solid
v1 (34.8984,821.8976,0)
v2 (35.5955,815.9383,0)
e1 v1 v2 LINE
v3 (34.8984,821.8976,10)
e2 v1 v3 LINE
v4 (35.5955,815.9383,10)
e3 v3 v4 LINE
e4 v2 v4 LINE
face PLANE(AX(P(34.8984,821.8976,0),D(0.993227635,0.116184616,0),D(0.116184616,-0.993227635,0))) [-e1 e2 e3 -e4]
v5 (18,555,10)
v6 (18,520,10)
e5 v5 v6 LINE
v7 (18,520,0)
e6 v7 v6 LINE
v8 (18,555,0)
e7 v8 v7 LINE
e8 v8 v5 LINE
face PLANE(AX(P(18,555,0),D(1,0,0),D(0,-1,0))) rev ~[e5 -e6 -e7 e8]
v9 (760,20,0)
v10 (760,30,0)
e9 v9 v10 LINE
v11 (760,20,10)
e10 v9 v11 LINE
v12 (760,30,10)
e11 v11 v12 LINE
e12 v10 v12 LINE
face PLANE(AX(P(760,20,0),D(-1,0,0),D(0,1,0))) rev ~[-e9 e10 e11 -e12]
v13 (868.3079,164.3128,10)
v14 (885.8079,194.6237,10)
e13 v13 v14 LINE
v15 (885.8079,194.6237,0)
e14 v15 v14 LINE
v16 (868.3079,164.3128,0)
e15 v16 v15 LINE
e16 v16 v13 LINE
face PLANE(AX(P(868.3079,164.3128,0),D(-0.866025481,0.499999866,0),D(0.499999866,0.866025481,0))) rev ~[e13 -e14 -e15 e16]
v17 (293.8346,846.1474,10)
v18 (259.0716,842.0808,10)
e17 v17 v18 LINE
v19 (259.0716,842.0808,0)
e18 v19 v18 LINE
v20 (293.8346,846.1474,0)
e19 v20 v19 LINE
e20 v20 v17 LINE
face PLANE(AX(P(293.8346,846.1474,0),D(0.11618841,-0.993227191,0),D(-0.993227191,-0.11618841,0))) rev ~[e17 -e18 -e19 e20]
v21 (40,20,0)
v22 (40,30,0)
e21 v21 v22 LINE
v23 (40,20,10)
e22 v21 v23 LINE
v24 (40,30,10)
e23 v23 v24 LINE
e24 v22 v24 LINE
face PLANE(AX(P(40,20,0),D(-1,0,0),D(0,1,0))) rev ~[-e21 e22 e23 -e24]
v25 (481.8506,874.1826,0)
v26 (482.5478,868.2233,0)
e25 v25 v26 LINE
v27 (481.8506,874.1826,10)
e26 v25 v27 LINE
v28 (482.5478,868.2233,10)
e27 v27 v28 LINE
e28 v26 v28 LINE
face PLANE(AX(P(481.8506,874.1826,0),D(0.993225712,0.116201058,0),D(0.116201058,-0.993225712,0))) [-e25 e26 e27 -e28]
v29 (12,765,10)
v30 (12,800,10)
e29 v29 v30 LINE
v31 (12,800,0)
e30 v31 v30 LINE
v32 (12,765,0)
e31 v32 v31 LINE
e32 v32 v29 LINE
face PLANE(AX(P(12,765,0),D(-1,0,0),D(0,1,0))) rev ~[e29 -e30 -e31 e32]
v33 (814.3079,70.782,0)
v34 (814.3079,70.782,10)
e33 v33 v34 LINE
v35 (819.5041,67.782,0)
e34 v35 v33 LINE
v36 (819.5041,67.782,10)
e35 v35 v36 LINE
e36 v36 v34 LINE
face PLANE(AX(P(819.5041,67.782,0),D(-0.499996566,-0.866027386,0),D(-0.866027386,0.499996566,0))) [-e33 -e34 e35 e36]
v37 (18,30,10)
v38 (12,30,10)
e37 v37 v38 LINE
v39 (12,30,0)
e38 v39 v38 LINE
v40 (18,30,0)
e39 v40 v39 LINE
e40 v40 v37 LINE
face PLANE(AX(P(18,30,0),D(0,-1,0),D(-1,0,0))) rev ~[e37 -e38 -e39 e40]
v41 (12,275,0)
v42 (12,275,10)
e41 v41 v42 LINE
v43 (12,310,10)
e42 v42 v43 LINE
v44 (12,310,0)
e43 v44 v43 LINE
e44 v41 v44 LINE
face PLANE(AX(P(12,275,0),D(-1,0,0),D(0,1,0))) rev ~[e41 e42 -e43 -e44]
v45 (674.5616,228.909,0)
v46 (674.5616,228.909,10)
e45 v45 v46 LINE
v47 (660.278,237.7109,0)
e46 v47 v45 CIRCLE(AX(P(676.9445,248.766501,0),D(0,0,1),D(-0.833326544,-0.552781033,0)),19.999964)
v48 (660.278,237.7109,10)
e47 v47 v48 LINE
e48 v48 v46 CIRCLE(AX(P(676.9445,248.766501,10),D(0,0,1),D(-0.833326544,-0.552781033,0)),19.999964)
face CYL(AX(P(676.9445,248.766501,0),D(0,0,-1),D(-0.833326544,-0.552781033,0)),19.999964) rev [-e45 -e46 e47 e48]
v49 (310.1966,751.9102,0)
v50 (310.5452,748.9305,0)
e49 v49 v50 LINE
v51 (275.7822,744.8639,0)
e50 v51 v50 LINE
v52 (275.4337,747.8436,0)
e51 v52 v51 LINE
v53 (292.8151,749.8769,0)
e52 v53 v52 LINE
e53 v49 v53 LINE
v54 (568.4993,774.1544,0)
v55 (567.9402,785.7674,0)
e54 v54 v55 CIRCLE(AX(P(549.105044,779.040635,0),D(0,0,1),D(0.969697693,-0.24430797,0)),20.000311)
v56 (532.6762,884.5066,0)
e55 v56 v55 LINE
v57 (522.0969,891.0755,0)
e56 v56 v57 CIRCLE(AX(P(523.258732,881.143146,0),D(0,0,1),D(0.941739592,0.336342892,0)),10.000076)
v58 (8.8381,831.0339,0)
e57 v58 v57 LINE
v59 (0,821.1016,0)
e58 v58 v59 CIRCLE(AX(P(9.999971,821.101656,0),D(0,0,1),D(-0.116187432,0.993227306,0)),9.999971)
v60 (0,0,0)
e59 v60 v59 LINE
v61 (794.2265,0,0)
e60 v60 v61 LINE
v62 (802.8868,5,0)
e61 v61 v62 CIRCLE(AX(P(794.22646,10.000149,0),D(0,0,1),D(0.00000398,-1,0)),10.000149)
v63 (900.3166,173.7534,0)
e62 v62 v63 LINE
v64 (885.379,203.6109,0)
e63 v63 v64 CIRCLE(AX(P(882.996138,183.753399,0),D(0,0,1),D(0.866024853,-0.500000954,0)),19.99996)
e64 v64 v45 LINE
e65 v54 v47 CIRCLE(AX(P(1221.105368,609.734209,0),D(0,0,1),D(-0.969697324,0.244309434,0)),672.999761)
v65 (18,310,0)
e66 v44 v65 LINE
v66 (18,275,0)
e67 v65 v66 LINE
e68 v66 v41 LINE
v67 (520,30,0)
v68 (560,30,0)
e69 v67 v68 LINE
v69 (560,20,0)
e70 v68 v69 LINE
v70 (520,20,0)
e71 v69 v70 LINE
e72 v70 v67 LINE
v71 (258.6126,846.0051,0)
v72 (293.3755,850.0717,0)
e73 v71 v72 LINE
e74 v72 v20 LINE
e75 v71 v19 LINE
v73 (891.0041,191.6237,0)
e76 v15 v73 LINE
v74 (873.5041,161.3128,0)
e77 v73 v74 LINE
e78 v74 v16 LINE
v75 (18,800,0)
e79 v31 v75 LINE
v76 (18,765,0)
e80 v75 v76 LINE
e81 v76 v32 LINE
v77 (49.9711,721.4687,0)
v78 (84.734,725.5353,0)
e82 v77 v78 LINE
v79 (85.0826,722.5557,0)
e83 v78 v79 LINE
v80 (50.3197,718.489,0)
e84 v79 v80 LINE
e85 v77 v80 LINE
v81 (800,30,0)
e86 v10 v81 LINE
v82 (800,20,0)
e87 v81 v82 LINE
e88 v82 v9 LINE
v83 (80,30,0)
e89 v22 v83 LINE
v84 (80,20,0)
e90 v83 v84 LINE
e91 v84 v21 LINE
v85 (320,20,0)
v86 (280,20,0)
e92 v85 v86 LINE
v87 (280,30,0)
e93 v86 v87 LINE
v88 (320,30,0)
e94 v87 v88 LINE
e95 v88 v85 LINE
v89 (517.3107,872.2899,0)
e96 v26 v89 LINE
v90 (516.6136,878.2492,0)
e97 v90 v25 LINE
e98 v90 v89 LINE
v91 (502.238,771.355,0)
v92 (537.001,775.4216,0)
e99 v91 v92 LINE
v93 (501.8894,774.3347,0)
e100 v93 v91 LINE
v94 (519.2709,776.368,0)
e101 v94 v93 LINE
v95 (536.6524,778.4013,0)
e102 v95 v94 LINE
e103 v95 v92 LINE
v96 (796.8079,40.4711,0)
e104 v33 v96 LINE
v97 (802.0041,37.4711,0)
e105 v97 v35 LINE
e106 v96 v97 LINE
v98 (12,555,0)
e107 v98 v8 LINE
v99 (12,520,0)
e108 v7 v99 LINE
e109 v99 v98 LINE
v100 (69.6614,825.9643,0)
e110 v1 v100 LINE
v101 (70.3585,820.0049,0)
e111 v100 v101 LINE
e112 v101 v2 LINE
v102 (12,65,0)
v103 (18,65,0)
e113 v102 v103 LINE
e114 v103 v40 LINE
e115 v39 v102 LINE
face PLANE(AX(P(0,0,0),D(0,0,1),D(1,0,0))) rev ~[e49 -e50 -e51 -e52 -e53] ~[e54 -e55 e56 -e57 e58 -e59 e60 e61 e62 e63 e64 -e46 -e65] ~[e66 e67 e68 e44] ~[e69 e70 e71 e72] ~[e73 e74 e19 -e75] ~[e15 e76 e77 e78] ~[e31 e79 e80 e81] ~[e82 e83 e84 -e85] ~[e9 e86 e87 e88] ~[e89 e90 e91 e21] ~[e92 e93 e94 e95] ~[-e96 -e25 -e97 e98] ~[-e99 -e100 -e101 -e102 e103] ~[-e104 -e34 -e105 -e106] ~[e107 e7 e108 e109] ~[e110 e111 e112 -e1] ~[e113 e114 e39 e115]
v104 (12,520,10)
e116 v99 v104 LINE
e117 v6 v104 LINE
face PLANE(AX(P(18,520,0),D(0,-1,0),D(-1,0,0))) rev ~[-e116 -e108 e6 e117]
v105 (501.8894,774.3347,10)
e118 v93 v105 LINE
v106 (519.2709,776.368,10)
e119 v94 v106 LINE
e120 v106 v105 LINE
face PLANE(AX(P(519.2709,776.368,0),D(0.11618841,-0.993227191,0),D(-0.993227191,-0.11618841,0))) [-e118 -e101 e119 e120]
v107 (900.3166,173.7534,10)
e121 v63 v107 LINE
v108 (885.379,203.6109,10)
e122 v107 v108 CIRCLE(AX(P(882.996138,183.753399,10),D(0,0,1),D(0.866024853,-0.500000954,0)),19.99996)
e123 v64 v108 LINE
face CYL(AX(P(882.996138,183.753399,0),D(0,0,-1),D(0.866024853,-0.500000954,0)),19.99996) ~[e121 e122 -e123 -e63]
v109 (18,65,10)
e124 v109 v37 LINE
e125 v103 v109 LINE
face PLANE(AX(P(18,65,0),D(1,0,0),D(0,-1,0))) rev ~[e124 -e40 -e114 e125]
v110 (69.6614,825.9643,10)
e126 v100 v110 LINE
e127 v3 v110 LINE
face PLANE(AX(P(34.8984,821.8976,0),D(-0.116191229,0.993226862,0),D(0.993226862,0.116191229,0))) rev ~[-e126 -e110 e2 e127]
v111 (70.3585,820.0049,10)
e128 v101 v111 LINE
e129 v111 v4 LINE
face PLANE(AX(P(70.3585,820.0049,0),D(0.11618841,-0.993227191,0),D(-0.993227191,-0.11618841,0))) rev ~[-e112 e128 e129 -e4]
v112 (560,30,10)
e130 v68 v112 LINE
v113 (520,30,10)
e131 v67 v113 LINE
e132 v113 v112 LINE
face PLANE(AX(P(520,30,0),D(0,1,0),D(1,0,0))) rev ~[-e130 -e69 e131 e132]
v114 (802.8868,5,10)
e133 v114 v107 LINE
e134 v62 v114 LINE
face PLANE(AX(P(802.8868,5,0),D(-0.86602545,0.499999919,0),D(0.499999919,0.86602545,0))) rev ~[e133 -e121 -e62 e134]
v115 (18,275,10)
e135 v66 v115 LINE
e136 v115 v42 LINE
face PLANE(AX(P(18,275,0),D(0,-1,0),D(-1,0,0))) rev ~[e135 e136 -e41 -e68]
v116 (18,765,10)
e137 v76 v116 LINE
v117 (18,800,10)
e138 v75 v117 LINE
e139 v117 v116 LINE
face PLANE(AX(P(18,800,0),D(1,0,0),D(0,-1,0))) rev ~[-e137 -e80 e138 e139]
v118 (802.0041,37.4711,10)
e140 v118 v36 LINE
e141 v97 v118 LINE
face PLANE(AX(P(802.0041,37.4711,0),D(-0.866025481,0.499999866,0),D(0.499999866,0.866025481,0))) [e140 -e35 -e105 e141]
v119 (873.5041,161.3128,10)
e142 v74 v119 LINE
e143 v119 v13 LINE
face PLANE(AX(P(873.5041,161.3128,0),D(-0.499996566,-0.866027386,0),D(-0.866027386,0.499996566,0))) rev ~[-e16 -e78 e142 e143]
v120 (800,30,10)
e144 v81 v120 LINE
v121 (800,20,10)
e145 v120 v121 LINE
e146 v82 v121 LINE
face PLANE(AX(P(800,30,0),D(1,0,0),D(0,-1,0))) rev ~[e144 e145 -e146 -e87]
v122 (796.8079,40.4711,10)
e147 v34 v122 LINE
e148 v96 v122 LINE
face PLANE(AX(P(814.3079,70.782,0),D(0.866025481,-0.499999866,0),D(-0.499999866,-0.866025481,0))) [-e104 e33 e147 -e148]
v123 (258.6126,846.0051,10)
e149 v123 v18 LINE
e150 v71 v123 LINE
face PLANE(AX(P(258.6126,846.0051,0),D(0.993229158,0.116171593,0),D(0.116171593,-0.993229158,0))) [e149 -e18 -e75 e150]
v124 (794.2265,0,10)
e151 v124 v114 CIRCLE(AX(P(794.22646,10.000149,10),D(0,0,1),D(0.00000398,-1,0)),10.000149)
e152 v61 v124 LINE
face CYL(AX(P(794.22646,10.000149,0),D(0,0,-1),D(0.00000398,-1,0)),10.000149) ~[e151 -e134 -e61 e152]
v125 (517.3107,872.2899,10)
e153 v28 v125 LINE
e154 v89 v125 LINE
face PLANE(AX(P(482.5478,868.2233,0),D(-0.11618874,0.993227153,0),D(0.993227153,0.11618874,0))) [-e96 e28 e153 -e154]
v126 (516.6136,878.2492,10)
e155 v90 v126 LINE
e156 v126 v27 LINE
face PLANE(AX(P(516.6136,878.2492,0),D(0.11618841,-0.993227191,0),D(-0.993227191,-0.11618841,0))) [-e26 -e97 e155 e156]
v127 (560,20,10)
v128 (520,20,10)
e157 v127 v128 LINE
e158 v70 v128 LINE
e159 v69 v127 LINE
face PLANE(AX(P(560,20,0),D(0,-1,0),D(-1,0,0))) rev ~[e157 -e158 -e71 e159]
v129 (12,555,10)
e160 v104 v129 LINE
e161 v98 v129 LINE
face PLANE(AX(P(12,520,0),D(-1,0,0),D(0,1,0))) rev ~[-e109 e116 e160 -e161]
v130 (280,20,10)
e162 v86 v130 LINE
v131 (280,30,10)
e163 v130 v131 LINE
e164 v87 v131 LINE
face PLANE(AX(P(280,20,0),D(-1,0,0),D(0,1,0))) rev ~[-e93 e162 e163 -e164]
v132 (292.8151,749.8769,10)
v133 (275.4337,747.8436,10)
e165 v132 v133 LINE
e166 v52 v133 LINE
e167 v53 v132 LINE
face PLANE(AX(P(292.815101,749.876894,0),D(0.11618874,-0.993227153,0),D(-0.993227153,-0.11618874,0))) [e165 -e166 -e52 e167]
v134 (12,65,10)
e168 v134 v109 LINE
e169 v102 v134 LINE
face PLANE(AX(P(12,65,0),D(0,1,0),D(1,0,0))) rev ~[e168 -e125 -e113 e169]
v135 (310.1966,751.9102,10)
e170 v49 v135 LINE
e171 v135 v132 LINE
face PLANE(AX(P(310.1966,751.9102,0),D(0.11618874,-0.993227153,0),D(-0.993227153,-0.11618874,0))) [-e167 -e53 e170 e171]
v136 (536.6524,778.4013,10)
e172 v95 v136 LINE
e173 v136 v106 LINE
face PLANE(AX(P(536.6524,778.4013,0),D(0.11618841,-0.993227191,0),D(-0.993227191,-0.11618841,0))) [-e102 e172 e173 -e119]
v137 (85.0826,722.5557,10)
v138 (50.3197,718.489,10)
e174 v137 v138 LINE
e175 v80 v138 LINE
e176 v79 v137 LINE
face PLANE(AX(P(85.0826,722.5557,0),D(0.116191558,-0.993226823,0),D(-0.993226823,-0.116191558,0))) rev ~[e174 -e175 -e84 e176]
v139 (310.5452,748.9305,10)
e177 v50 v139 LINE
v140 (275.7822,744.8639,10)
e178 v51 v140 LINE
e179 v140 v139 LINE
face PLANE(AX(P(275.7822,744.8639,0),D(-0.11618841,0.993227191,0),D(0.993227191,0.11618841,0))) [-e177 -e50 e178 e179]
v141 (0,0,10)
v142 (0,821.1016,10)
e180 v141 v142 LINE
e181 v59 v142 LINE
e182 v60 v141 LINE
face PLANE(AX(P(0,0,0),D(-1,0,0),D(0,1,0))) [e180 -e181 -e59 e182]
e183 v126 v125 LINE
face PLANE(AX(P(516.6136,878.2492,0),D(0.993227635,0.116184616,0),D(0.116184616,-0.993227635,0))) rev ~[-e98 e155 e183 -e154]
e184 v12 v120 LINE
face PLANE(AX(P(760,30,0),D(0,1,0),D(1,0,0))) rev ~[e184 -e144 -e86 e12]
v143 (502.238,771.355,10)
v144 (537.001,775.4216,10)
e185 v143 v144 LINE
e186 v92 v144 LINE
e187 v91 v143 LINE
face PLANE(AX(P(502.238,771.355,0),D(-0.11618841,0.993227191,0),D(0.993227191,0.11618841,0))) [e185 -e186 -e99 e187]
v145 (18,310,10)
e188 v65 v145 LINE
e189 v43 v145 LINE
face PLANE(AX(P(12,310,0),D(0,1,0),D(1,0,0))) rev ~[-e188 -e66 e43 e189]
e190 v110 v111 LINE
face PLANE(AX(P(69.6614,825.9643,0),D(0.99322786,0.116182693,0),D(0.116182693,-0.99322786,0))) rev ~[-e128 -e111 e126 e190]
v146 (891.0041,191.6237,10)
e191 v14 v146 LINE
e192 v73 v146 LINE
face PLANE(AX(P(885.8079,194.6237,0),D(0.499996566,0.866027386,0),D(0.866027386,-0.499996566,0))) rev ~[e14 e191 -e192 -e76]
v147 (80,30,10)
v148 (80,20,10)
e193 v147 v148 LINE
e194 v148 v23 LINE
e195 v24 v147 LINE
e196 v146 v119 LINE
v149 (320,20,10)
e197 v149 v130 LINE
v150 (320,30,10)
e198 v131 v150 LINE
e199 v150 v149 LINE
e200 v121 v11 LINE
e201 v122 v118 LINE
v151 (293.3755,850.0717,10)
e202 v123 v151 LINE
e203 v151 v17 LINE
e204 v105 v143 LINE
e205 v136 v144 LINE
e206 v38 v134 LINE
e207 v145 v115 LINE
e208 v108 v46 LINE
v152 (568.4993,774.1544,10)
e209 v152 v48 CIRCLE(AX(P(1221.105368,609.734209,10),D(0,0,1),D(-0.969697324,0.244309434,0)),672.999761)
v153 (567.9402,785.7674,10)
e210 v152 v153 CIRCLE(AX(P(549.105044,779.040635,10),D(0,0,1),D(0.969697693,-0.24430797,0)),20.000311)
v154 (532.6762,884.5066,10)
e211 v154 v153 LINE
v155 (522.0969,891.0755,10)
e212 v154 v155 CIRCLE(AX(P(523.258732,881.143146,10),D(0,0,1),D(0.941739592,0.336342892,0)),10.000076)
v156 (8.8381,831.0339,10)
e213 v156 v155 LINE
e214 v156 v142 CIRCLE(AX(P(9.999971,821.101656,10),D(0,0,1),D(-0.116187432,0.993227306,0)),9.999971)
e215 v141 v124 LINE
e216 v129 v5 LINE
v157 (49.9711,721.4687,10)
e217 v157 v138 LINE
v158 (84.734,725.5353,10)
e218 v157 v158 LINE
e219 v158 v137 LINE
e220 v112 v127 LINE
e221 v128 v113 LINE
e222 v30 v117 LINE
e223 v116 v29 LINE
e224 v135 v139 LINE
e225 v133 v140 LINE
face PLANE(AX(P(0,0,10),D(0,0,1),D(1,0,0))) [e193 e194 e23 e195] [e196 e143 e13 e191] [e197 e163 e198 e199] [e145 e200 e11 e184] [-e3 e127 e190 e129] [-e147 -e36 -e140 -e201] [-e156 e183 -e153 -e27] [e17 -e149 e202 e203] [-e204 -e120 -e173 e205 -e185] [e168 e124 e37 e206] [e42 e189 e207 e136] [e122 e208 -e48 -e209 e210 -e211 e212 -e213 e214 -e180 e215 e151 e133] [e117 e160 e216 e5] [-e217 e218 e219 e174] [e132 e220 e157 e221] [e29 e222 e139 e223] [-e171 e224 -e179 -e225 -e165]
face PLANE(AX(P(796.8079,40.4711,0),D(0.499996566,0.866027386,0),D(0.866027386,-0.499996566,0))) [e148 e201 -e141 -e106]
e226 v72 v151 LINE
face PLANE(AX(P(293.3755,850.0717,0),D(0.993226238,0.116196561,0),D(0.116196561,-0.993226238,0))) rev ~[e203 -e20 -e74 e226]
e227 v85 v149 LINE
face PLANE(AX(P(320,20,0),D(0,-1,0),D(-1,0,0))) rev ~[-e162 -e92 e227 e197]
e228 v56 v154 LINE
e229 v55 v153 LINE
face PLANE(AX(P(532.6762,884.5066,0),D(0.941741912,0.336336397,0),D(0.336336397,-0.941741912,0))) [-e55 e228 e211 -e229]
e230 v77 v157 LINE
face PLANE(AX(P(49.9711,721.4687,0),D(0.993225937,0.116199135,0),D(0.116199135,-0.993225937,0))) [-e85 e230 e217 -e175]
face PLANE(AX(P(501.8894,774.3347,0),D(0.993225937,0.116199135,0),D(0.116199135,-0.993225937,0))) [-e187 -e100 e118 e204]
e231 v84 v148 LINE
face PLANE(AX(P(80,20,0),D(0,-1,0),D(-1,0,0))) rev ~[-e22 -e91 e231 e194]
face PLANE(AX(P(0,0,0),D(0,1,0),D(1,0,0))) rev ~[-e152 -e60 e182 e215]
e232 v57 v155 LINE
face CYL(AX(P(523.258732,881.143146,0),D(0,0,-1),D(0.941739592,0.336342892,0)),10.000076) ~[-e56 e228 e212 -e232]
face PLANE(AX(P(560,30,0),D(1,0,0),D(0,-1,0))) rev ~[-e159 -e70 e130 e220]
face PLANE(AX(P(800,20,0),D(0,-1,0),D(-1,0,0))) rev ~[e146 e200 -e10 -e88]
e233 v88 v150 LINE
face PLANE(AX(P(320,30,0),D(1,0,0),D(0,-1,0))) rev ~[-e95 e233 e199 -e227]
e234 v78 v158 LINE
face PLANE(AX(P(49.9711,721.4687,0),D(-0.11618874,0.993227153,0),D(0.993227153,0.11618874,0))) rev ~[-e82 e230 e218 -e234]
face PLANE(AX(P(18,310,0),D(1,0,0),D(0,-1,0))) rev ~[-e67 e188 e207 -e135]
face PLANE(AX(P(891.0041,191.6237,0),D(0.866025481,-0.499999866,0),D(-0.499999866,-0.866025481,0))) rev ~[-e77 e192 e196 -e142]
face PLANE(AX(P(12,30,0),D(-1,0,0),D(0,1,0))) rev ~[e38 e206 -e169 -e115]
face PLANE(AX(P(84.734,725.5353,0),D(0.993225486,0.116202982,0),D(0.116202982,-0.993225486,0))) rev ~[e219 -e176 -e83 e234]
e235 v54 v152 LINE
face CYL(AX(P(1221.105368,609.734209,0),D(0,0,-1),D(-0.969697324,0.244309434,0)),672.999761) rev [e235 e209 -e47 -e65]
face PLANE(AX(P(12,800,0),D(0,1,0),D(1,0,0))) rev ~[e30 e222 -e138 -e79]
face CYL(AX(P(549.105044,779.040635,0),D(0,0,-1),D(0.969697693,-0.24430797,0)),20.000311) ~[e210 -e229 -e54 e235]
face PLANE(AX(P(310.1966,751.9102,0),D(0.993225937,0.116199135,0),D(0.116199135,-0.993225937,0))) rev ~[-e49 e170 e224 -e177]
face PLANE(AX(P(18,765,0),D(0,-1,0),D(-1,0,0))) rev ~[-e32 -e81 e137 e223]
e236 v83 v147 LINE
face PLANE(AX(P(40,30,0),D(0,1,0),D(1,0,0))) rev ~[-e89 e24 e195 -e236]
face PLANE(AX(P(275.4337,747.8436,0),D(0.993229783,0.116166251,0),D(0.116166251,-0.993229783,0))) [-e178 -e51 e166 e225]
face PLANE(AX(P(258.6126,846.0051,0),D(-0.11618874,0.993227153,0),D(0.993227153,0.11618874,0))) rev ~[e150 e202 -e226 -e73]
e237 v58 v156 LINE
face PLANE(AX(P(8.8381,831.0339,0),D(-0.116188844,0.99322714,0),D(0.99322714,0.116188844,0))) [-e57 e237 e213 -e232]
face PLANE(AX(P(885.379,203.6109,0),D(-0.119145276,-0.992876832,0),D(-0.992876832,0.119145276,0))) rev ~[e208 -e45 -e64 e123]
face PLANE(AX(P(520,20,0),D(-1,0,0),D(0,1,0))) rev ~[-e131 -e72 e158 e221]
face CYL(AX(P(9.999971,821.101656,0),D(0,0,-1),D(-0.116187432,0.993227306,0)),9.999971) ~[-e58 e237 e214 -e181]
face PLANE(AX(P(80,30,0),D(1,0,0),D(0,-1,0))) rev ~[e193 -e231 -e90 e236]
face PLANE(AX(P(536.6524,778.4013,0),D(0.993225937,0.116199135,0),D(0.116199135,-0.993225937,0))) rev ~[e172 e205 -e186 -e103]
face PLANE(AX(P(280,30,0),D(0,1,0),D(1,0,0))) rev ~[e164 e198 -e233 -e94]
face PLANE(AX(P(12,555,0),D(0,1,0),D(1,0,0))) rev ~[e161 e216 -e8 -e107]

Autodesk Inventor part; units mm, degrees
ref_plane "YZ Plane" through (0, 0, 0) normal (1, 0, 0) x (0, 1, 0)
ref_plane "XZ Plane" through (0, 0, 0) normal (0, 1, 0) x (-1, 0, 0)
ref_plane "XY Plane" through (0, 0, 0) normal (0, 0, 1) x (1, 0, 0)
sketch "Sketch1" plane through (0, 0, 0) normal (0, 0, 1) x (1, 0, 0)
  line L0 (0, 0) -> (794.2265, 0)
  line L1 (0, 0) -> (0, 821.1016)
  line L2 (8.8381, 831.0339) -> (522.0969, 891.0755)
  line L3 (802.8868, 5) -> (900.3166, 173.7534)
  line L4 (532.6762, 884.5066) -> (567.9402, 785.7674)
  arc A0 (532.6762, 884.5066) -> (522.0969, 891.0755) centre (523.2588, 881.1432) ccw
  arc A1 (8.8381, 831.0339) -> (0, 821.1016) centre (10, 821.1016) ccw
  arc A2 (794.2265, 0) -> (802.8868, 5) centre (794.2265, 10) ccw
  line L5 (265.4675, 861.0547) -> (267.2222, 846.0547) construction
  line L6 (14.3861, 816.4776) -> (535.2127, 877.4045) construction
  line L7 (20, 820.1548) -> (531.512, 879.9921) construction
  line L8 (531.512, 879.9921) -> (532.2091, 874.0327) construction
  line L9 (532.2091, 874.0327) -> (20.6971, 814.1954) construction
  line L10 (20.6971, 814.1954) -> (20, 820.1548) construction
  line L11 (34.8984, 821.8976) -> (35.5955, 815.9383)
  line L12 (69.6614, 825.9643) -> (70.3585, 820.0049)
  line L13 (481.8506, 874.1826) -> (482.5478, 868.2233)
  line L14 (516.6136, 878.2492) -> (517.3107, 872.2899)
  line L15 (34.8984, 821.8976) -> (69.6614, 825.9643)
  line L16 (70.3585, 820.0049) -> (35.5955, 815.9383)
  line L17 (516.6136, 878.2492) -> (481.8506, 874.1826)
  line L18 (482.5478, 868.2233) -> (517.3107, 872.2899)
  line L19 (20.3486, 817.1751) -> (531.8605, 877.0124) construction
  line L20 (275.756, 850.0734) -> (276.1046, 847.0938) construction
  line L21 (569.7285, 780.7603) -> (0, 714.1128) construction
  line L22 (49.9711, 721.4687) -> (50.3197, 718.489)
  line L23 (84.734, 725.5353) -> (85.0826, 722.5557)
  line L24 (501.8894, 774.3347) -> (502.238, 771.355)
  line L25 (536.6524, 778.4013) -> (537.001, 775.4216)
  line L26 (49.9711, 721.4687) -> (84.734, 725.5353)
  line L27 (85.0826, 722.5557) -> (50.3197, 718.489)
  line L28 (536.6524, 778.4013) -> (501.8894, 774.3347)
  line L29 (502.238, 771.355) -> (537.001, 775.4216)
  line L30 (20, 719.4729) -> (566.2749, 783.3768) construction
  line L31 (566.2749, 783.3768) -> (566.9721, 777.4174) construction
  line L32 (566.9721, 777.4174) -> (20.6971, 713.5135) construction
  line L33 (20.6971, 713.5135) -> (20, 719.4729) construction
  line L34 (15, 0) -> (15, 541.5516) construction
  line L35 (12, 800) -> (18, 800)
  line L36 (18, 800) -> (18, 765)
  line L37 (18, 765) -> (12, 765)
  line L38 (12, 765) -> (12, 800)
  line L39 (12, 555) -> (18, 555)
  line L40 (18, 555) -> (18, 520)
  line L41 (18, 520) -> (12, 520)
  line L42 (12, 520) -> (12, 555)
  line L43 (12, 310) -> (18, 310)
  line L44 (18, 310) -> (18, 275)
  line L45 (18, 275) -> (12, 275)
  line L46 (12, 275) -> (12, 310)
  line L47 (12, 65) -> (18, 65)
  line L48 (18, 65) -> (18, 30)
  line L49 (18, 30) -> (12, 30)
  line L50 (12, 30) -> (12, 65)
  line L51 (31.6599, 656.3688) -> (531.6599, 656.3688) construction
  line L52 (531.6599, 656.3688) -> (531.6599, 36.3688) construction
  line L53 (531.6599, 36.3688) -> (31.6599, 36.3688) construction
  line L54 (31.6599, 36.3688) -> (31.6599, 656.3688) construction
  line L55 (885.379, 203.6109) -> (674.5616, 228.909)
  arc A3 (568.4993, 774.1544) -> (660.278, 237.7109) centre (1221.1056, 609.7342) ccw
  line L56 (40, 30) -> (80, 30)
  line L57 (80, 30) -> (80, 20)
  line L58 (80, 20) -> (40, 20)
  line L59 (40, 20) -> (40, 30)
  line L60 (280, 30) -> (320, 30)
  line L61 (320, 30) -> (320, 20)
  line L62 (320, 20) -> (280, 20)
  line L63 (280, 20) -> (280, 30)
  line L64 (520, 30) -> (560, 30)
  line L65 (560, 30) -> (560, 20)
  line L66 (560, 20) -> (520, 20)
  line L67 (520, 20) -> (520, 30)
  line L68 (760, 30) -> (800, 30)
  line L69 (800, 30) -> (800, 20)
  line L70 (800, 20) -> (760, 20)
  line L71 (760, 20) -> (760, 30)
  arc A4 (900.3166, 173.7534) -> (885.379, 203.6109) centre (882.9961, 183.7534) ccw
  arc A5 (660.278, 237.7109) -> (674.5616, 228.909) centre (676.9445, 248.7665) ccw
  arc A6 (568.4993, 774.1544) -> (567.9402, 785.7674) centre (549.1054, 779.0406) ccw
  line L72 (52.2799, 823.9309) -> (52.6284, 820.9513) construction
  line L73 (258.6126, 846.0051) -> (259.0716, 842.0808)
  line L74 (293.3755, 850.0717) -> (293.8346, 846.1474)
  line L75 (258.6126, 846.0051) -> (293.3755, 850.0717)
  line L76 (293.8346, 846.1474) -> (259.0716, 842.0808)
  line L77 (275.994, 848.0384) -> (276.3426, 845.0587) construction
  line L78 (519.2709, 776.368) -> (519.4452, 774.8781)
  line L79 (310.1966, 751.9102) -> (310.5452, 748.9305)
  line L80 (275.4337, 747.8436) -> (275.7822, 744.8639)
  line L81 (310.1966, 751.9102) -> (275.4337, 747.8436)
  line L82 (275.7822, 744.8639) -> (310.5452, 748.9305)
  line L83 (292.8151, 749.8769) -> (292.9894, 748.3871)
  line L84 (796.8079, 40.4711) -> (802.0041, 37.4711)
  line L85 (802.0041, 37.4711) -> (819.5041, 67.782)
  line L86 (819.5041, 67.782) -> (814.3079, 70.782)
  line L87 (814.3079, 70.782) -> (796.8079, 40.4711)
  line L88 (873.5041, 161.3128) -> (868.3079, 164.3128)
  line L89 (868.3079, 164.3128) -> (885.8079, 194.6237)
  line L90 (885.8079, 194.6237) -> (891.0041, 191.6237)
  line L91 (891.0041, 191.6237) -> (873.5041, 161.3128)
  line L92 (840.6385, 70.388) -> (823.318, 80.388) construction
  line L93 (892.9961, 201.0739) -> (776.906, 0) construction
  line L94 (799.406, 38.9711) -> (888.406, 193.1237) construction
  line L95 (843.906, 116.0474) -> (847.4398, 114.0072) construction
  line L96 (797.981, 30.503) -> (792.7848, 33.503) construction
  line L97 (796.8079, 40.4711) -> (792.7848, 33.503) construction
  line L98 (801.8634, 37.2275) -> (797.981, 30.503) construction
  line L99 (819.5041, 67.782) -> (873.5041, 161.3128) construction
  line L100 (868.3079, 164.3128) -> (814.3079, 70.782) construction
  line L101 (885.8079, 194.6237) -> (890.2848, 202.3779) construction
  line L102 (891.0041, 191.6237) -> (895.481, 199.3779) construction
  line L103 (890.2848, 202.3779) -> (895.481, 199.3779) construction
  line L104 (569.0823, 778.0788) -> (665.4701, 230) construction
  line L105 (665.4701, 230) -> (546.1008, 230) construction
  line L106 (569.0823, 778.0788) -> (515.1258, 778.0788) construction
  line L107 (509.3451, 770.6761) -> (604.6809, 230) construction
  point P0 (800, 0)
  point P1 (0, 830)
  point P2 (530, 892)
  point P3 (570, 780)
  point P4 (915.4701, 200)
  point P5 (570, 780)
  point P6 (15, 65)
  point P7 (84.9083, 724.0455)
  point P8 (502.0637, 772.8448)
  point P9 (20.3486, 716.4932)
  point P10 (275.6079, 746.3538)
  dimension "d0" = 830
  dimension "d1" = 62
  dimension "d2" = 50
  dimension "d3" = 800
  dimension "d9" = 530
  dimension "d10" = 570
  dimension "d13" = 10
  dimension "d16" = 15
  dimension "d17" = 6
  dimension "d18" = 515
  dimension "d19" = 35
  dimension "d20" = 15
  dimension "d21" = 15
  dimension "d22" = 35
  dimension "d23" = 415
  dimension "d24" = 35
  dimension "d25" = 35
  dimension "d27" = 6
  dimension "d28" = 550
  dimension "d31" = 15
  dimension "d32" = 35
  dimension "d33" = 6
  dimension "d34" = 30
  dimension "d35" = 210
  dimension "d36" = 210
  dimension "d37" = 210
  dimension "d38" = 30
  dimension "d39" = 30
  dimension "d40" = 420
  dimension "d42" = 20
  dimension "d48" = 3
  dimension "d50" = 5
  dimension "d51" = 100
  dimension "d58" = 500
  dimension "d59" = 620
  dimension "d60" = 200
  dimension "d61" = 230
  dimension "d62" = 250
  dimension "d63" = 10
  dimension "d64" = 40
  dimension "d65" = 200
  dimension "d66" = 200
  dimension "d67" = 200
  dimension "d68" = 40
  dimension "d69" = 20
  dimension "d72" = 20
  dimension "d73" = 35
  dimension "d74" = 20
  dimension "d75" = 20
  dimension "d76" = 10
  dimension "d77" = 35
  dimension "d78" = 192
  dimension "d79" = 193
  dimension "d80" = 673
  dimension "d84" = 22
  dimension "d85" = 190
  dimension "d86" = 190
  dimension "d87" = 6
  dimension "d88" = 35
  dimension "d89" = 20
  dimension "d90" = 120
  dimension "d91" = 45
  dimension "d92" = 108
  dimension "d93" = 195
extrude "Extrusion6" add sketch "Sketch1" along normal blind 10
properties part number "ladoA" material "Wood (Oak)"
